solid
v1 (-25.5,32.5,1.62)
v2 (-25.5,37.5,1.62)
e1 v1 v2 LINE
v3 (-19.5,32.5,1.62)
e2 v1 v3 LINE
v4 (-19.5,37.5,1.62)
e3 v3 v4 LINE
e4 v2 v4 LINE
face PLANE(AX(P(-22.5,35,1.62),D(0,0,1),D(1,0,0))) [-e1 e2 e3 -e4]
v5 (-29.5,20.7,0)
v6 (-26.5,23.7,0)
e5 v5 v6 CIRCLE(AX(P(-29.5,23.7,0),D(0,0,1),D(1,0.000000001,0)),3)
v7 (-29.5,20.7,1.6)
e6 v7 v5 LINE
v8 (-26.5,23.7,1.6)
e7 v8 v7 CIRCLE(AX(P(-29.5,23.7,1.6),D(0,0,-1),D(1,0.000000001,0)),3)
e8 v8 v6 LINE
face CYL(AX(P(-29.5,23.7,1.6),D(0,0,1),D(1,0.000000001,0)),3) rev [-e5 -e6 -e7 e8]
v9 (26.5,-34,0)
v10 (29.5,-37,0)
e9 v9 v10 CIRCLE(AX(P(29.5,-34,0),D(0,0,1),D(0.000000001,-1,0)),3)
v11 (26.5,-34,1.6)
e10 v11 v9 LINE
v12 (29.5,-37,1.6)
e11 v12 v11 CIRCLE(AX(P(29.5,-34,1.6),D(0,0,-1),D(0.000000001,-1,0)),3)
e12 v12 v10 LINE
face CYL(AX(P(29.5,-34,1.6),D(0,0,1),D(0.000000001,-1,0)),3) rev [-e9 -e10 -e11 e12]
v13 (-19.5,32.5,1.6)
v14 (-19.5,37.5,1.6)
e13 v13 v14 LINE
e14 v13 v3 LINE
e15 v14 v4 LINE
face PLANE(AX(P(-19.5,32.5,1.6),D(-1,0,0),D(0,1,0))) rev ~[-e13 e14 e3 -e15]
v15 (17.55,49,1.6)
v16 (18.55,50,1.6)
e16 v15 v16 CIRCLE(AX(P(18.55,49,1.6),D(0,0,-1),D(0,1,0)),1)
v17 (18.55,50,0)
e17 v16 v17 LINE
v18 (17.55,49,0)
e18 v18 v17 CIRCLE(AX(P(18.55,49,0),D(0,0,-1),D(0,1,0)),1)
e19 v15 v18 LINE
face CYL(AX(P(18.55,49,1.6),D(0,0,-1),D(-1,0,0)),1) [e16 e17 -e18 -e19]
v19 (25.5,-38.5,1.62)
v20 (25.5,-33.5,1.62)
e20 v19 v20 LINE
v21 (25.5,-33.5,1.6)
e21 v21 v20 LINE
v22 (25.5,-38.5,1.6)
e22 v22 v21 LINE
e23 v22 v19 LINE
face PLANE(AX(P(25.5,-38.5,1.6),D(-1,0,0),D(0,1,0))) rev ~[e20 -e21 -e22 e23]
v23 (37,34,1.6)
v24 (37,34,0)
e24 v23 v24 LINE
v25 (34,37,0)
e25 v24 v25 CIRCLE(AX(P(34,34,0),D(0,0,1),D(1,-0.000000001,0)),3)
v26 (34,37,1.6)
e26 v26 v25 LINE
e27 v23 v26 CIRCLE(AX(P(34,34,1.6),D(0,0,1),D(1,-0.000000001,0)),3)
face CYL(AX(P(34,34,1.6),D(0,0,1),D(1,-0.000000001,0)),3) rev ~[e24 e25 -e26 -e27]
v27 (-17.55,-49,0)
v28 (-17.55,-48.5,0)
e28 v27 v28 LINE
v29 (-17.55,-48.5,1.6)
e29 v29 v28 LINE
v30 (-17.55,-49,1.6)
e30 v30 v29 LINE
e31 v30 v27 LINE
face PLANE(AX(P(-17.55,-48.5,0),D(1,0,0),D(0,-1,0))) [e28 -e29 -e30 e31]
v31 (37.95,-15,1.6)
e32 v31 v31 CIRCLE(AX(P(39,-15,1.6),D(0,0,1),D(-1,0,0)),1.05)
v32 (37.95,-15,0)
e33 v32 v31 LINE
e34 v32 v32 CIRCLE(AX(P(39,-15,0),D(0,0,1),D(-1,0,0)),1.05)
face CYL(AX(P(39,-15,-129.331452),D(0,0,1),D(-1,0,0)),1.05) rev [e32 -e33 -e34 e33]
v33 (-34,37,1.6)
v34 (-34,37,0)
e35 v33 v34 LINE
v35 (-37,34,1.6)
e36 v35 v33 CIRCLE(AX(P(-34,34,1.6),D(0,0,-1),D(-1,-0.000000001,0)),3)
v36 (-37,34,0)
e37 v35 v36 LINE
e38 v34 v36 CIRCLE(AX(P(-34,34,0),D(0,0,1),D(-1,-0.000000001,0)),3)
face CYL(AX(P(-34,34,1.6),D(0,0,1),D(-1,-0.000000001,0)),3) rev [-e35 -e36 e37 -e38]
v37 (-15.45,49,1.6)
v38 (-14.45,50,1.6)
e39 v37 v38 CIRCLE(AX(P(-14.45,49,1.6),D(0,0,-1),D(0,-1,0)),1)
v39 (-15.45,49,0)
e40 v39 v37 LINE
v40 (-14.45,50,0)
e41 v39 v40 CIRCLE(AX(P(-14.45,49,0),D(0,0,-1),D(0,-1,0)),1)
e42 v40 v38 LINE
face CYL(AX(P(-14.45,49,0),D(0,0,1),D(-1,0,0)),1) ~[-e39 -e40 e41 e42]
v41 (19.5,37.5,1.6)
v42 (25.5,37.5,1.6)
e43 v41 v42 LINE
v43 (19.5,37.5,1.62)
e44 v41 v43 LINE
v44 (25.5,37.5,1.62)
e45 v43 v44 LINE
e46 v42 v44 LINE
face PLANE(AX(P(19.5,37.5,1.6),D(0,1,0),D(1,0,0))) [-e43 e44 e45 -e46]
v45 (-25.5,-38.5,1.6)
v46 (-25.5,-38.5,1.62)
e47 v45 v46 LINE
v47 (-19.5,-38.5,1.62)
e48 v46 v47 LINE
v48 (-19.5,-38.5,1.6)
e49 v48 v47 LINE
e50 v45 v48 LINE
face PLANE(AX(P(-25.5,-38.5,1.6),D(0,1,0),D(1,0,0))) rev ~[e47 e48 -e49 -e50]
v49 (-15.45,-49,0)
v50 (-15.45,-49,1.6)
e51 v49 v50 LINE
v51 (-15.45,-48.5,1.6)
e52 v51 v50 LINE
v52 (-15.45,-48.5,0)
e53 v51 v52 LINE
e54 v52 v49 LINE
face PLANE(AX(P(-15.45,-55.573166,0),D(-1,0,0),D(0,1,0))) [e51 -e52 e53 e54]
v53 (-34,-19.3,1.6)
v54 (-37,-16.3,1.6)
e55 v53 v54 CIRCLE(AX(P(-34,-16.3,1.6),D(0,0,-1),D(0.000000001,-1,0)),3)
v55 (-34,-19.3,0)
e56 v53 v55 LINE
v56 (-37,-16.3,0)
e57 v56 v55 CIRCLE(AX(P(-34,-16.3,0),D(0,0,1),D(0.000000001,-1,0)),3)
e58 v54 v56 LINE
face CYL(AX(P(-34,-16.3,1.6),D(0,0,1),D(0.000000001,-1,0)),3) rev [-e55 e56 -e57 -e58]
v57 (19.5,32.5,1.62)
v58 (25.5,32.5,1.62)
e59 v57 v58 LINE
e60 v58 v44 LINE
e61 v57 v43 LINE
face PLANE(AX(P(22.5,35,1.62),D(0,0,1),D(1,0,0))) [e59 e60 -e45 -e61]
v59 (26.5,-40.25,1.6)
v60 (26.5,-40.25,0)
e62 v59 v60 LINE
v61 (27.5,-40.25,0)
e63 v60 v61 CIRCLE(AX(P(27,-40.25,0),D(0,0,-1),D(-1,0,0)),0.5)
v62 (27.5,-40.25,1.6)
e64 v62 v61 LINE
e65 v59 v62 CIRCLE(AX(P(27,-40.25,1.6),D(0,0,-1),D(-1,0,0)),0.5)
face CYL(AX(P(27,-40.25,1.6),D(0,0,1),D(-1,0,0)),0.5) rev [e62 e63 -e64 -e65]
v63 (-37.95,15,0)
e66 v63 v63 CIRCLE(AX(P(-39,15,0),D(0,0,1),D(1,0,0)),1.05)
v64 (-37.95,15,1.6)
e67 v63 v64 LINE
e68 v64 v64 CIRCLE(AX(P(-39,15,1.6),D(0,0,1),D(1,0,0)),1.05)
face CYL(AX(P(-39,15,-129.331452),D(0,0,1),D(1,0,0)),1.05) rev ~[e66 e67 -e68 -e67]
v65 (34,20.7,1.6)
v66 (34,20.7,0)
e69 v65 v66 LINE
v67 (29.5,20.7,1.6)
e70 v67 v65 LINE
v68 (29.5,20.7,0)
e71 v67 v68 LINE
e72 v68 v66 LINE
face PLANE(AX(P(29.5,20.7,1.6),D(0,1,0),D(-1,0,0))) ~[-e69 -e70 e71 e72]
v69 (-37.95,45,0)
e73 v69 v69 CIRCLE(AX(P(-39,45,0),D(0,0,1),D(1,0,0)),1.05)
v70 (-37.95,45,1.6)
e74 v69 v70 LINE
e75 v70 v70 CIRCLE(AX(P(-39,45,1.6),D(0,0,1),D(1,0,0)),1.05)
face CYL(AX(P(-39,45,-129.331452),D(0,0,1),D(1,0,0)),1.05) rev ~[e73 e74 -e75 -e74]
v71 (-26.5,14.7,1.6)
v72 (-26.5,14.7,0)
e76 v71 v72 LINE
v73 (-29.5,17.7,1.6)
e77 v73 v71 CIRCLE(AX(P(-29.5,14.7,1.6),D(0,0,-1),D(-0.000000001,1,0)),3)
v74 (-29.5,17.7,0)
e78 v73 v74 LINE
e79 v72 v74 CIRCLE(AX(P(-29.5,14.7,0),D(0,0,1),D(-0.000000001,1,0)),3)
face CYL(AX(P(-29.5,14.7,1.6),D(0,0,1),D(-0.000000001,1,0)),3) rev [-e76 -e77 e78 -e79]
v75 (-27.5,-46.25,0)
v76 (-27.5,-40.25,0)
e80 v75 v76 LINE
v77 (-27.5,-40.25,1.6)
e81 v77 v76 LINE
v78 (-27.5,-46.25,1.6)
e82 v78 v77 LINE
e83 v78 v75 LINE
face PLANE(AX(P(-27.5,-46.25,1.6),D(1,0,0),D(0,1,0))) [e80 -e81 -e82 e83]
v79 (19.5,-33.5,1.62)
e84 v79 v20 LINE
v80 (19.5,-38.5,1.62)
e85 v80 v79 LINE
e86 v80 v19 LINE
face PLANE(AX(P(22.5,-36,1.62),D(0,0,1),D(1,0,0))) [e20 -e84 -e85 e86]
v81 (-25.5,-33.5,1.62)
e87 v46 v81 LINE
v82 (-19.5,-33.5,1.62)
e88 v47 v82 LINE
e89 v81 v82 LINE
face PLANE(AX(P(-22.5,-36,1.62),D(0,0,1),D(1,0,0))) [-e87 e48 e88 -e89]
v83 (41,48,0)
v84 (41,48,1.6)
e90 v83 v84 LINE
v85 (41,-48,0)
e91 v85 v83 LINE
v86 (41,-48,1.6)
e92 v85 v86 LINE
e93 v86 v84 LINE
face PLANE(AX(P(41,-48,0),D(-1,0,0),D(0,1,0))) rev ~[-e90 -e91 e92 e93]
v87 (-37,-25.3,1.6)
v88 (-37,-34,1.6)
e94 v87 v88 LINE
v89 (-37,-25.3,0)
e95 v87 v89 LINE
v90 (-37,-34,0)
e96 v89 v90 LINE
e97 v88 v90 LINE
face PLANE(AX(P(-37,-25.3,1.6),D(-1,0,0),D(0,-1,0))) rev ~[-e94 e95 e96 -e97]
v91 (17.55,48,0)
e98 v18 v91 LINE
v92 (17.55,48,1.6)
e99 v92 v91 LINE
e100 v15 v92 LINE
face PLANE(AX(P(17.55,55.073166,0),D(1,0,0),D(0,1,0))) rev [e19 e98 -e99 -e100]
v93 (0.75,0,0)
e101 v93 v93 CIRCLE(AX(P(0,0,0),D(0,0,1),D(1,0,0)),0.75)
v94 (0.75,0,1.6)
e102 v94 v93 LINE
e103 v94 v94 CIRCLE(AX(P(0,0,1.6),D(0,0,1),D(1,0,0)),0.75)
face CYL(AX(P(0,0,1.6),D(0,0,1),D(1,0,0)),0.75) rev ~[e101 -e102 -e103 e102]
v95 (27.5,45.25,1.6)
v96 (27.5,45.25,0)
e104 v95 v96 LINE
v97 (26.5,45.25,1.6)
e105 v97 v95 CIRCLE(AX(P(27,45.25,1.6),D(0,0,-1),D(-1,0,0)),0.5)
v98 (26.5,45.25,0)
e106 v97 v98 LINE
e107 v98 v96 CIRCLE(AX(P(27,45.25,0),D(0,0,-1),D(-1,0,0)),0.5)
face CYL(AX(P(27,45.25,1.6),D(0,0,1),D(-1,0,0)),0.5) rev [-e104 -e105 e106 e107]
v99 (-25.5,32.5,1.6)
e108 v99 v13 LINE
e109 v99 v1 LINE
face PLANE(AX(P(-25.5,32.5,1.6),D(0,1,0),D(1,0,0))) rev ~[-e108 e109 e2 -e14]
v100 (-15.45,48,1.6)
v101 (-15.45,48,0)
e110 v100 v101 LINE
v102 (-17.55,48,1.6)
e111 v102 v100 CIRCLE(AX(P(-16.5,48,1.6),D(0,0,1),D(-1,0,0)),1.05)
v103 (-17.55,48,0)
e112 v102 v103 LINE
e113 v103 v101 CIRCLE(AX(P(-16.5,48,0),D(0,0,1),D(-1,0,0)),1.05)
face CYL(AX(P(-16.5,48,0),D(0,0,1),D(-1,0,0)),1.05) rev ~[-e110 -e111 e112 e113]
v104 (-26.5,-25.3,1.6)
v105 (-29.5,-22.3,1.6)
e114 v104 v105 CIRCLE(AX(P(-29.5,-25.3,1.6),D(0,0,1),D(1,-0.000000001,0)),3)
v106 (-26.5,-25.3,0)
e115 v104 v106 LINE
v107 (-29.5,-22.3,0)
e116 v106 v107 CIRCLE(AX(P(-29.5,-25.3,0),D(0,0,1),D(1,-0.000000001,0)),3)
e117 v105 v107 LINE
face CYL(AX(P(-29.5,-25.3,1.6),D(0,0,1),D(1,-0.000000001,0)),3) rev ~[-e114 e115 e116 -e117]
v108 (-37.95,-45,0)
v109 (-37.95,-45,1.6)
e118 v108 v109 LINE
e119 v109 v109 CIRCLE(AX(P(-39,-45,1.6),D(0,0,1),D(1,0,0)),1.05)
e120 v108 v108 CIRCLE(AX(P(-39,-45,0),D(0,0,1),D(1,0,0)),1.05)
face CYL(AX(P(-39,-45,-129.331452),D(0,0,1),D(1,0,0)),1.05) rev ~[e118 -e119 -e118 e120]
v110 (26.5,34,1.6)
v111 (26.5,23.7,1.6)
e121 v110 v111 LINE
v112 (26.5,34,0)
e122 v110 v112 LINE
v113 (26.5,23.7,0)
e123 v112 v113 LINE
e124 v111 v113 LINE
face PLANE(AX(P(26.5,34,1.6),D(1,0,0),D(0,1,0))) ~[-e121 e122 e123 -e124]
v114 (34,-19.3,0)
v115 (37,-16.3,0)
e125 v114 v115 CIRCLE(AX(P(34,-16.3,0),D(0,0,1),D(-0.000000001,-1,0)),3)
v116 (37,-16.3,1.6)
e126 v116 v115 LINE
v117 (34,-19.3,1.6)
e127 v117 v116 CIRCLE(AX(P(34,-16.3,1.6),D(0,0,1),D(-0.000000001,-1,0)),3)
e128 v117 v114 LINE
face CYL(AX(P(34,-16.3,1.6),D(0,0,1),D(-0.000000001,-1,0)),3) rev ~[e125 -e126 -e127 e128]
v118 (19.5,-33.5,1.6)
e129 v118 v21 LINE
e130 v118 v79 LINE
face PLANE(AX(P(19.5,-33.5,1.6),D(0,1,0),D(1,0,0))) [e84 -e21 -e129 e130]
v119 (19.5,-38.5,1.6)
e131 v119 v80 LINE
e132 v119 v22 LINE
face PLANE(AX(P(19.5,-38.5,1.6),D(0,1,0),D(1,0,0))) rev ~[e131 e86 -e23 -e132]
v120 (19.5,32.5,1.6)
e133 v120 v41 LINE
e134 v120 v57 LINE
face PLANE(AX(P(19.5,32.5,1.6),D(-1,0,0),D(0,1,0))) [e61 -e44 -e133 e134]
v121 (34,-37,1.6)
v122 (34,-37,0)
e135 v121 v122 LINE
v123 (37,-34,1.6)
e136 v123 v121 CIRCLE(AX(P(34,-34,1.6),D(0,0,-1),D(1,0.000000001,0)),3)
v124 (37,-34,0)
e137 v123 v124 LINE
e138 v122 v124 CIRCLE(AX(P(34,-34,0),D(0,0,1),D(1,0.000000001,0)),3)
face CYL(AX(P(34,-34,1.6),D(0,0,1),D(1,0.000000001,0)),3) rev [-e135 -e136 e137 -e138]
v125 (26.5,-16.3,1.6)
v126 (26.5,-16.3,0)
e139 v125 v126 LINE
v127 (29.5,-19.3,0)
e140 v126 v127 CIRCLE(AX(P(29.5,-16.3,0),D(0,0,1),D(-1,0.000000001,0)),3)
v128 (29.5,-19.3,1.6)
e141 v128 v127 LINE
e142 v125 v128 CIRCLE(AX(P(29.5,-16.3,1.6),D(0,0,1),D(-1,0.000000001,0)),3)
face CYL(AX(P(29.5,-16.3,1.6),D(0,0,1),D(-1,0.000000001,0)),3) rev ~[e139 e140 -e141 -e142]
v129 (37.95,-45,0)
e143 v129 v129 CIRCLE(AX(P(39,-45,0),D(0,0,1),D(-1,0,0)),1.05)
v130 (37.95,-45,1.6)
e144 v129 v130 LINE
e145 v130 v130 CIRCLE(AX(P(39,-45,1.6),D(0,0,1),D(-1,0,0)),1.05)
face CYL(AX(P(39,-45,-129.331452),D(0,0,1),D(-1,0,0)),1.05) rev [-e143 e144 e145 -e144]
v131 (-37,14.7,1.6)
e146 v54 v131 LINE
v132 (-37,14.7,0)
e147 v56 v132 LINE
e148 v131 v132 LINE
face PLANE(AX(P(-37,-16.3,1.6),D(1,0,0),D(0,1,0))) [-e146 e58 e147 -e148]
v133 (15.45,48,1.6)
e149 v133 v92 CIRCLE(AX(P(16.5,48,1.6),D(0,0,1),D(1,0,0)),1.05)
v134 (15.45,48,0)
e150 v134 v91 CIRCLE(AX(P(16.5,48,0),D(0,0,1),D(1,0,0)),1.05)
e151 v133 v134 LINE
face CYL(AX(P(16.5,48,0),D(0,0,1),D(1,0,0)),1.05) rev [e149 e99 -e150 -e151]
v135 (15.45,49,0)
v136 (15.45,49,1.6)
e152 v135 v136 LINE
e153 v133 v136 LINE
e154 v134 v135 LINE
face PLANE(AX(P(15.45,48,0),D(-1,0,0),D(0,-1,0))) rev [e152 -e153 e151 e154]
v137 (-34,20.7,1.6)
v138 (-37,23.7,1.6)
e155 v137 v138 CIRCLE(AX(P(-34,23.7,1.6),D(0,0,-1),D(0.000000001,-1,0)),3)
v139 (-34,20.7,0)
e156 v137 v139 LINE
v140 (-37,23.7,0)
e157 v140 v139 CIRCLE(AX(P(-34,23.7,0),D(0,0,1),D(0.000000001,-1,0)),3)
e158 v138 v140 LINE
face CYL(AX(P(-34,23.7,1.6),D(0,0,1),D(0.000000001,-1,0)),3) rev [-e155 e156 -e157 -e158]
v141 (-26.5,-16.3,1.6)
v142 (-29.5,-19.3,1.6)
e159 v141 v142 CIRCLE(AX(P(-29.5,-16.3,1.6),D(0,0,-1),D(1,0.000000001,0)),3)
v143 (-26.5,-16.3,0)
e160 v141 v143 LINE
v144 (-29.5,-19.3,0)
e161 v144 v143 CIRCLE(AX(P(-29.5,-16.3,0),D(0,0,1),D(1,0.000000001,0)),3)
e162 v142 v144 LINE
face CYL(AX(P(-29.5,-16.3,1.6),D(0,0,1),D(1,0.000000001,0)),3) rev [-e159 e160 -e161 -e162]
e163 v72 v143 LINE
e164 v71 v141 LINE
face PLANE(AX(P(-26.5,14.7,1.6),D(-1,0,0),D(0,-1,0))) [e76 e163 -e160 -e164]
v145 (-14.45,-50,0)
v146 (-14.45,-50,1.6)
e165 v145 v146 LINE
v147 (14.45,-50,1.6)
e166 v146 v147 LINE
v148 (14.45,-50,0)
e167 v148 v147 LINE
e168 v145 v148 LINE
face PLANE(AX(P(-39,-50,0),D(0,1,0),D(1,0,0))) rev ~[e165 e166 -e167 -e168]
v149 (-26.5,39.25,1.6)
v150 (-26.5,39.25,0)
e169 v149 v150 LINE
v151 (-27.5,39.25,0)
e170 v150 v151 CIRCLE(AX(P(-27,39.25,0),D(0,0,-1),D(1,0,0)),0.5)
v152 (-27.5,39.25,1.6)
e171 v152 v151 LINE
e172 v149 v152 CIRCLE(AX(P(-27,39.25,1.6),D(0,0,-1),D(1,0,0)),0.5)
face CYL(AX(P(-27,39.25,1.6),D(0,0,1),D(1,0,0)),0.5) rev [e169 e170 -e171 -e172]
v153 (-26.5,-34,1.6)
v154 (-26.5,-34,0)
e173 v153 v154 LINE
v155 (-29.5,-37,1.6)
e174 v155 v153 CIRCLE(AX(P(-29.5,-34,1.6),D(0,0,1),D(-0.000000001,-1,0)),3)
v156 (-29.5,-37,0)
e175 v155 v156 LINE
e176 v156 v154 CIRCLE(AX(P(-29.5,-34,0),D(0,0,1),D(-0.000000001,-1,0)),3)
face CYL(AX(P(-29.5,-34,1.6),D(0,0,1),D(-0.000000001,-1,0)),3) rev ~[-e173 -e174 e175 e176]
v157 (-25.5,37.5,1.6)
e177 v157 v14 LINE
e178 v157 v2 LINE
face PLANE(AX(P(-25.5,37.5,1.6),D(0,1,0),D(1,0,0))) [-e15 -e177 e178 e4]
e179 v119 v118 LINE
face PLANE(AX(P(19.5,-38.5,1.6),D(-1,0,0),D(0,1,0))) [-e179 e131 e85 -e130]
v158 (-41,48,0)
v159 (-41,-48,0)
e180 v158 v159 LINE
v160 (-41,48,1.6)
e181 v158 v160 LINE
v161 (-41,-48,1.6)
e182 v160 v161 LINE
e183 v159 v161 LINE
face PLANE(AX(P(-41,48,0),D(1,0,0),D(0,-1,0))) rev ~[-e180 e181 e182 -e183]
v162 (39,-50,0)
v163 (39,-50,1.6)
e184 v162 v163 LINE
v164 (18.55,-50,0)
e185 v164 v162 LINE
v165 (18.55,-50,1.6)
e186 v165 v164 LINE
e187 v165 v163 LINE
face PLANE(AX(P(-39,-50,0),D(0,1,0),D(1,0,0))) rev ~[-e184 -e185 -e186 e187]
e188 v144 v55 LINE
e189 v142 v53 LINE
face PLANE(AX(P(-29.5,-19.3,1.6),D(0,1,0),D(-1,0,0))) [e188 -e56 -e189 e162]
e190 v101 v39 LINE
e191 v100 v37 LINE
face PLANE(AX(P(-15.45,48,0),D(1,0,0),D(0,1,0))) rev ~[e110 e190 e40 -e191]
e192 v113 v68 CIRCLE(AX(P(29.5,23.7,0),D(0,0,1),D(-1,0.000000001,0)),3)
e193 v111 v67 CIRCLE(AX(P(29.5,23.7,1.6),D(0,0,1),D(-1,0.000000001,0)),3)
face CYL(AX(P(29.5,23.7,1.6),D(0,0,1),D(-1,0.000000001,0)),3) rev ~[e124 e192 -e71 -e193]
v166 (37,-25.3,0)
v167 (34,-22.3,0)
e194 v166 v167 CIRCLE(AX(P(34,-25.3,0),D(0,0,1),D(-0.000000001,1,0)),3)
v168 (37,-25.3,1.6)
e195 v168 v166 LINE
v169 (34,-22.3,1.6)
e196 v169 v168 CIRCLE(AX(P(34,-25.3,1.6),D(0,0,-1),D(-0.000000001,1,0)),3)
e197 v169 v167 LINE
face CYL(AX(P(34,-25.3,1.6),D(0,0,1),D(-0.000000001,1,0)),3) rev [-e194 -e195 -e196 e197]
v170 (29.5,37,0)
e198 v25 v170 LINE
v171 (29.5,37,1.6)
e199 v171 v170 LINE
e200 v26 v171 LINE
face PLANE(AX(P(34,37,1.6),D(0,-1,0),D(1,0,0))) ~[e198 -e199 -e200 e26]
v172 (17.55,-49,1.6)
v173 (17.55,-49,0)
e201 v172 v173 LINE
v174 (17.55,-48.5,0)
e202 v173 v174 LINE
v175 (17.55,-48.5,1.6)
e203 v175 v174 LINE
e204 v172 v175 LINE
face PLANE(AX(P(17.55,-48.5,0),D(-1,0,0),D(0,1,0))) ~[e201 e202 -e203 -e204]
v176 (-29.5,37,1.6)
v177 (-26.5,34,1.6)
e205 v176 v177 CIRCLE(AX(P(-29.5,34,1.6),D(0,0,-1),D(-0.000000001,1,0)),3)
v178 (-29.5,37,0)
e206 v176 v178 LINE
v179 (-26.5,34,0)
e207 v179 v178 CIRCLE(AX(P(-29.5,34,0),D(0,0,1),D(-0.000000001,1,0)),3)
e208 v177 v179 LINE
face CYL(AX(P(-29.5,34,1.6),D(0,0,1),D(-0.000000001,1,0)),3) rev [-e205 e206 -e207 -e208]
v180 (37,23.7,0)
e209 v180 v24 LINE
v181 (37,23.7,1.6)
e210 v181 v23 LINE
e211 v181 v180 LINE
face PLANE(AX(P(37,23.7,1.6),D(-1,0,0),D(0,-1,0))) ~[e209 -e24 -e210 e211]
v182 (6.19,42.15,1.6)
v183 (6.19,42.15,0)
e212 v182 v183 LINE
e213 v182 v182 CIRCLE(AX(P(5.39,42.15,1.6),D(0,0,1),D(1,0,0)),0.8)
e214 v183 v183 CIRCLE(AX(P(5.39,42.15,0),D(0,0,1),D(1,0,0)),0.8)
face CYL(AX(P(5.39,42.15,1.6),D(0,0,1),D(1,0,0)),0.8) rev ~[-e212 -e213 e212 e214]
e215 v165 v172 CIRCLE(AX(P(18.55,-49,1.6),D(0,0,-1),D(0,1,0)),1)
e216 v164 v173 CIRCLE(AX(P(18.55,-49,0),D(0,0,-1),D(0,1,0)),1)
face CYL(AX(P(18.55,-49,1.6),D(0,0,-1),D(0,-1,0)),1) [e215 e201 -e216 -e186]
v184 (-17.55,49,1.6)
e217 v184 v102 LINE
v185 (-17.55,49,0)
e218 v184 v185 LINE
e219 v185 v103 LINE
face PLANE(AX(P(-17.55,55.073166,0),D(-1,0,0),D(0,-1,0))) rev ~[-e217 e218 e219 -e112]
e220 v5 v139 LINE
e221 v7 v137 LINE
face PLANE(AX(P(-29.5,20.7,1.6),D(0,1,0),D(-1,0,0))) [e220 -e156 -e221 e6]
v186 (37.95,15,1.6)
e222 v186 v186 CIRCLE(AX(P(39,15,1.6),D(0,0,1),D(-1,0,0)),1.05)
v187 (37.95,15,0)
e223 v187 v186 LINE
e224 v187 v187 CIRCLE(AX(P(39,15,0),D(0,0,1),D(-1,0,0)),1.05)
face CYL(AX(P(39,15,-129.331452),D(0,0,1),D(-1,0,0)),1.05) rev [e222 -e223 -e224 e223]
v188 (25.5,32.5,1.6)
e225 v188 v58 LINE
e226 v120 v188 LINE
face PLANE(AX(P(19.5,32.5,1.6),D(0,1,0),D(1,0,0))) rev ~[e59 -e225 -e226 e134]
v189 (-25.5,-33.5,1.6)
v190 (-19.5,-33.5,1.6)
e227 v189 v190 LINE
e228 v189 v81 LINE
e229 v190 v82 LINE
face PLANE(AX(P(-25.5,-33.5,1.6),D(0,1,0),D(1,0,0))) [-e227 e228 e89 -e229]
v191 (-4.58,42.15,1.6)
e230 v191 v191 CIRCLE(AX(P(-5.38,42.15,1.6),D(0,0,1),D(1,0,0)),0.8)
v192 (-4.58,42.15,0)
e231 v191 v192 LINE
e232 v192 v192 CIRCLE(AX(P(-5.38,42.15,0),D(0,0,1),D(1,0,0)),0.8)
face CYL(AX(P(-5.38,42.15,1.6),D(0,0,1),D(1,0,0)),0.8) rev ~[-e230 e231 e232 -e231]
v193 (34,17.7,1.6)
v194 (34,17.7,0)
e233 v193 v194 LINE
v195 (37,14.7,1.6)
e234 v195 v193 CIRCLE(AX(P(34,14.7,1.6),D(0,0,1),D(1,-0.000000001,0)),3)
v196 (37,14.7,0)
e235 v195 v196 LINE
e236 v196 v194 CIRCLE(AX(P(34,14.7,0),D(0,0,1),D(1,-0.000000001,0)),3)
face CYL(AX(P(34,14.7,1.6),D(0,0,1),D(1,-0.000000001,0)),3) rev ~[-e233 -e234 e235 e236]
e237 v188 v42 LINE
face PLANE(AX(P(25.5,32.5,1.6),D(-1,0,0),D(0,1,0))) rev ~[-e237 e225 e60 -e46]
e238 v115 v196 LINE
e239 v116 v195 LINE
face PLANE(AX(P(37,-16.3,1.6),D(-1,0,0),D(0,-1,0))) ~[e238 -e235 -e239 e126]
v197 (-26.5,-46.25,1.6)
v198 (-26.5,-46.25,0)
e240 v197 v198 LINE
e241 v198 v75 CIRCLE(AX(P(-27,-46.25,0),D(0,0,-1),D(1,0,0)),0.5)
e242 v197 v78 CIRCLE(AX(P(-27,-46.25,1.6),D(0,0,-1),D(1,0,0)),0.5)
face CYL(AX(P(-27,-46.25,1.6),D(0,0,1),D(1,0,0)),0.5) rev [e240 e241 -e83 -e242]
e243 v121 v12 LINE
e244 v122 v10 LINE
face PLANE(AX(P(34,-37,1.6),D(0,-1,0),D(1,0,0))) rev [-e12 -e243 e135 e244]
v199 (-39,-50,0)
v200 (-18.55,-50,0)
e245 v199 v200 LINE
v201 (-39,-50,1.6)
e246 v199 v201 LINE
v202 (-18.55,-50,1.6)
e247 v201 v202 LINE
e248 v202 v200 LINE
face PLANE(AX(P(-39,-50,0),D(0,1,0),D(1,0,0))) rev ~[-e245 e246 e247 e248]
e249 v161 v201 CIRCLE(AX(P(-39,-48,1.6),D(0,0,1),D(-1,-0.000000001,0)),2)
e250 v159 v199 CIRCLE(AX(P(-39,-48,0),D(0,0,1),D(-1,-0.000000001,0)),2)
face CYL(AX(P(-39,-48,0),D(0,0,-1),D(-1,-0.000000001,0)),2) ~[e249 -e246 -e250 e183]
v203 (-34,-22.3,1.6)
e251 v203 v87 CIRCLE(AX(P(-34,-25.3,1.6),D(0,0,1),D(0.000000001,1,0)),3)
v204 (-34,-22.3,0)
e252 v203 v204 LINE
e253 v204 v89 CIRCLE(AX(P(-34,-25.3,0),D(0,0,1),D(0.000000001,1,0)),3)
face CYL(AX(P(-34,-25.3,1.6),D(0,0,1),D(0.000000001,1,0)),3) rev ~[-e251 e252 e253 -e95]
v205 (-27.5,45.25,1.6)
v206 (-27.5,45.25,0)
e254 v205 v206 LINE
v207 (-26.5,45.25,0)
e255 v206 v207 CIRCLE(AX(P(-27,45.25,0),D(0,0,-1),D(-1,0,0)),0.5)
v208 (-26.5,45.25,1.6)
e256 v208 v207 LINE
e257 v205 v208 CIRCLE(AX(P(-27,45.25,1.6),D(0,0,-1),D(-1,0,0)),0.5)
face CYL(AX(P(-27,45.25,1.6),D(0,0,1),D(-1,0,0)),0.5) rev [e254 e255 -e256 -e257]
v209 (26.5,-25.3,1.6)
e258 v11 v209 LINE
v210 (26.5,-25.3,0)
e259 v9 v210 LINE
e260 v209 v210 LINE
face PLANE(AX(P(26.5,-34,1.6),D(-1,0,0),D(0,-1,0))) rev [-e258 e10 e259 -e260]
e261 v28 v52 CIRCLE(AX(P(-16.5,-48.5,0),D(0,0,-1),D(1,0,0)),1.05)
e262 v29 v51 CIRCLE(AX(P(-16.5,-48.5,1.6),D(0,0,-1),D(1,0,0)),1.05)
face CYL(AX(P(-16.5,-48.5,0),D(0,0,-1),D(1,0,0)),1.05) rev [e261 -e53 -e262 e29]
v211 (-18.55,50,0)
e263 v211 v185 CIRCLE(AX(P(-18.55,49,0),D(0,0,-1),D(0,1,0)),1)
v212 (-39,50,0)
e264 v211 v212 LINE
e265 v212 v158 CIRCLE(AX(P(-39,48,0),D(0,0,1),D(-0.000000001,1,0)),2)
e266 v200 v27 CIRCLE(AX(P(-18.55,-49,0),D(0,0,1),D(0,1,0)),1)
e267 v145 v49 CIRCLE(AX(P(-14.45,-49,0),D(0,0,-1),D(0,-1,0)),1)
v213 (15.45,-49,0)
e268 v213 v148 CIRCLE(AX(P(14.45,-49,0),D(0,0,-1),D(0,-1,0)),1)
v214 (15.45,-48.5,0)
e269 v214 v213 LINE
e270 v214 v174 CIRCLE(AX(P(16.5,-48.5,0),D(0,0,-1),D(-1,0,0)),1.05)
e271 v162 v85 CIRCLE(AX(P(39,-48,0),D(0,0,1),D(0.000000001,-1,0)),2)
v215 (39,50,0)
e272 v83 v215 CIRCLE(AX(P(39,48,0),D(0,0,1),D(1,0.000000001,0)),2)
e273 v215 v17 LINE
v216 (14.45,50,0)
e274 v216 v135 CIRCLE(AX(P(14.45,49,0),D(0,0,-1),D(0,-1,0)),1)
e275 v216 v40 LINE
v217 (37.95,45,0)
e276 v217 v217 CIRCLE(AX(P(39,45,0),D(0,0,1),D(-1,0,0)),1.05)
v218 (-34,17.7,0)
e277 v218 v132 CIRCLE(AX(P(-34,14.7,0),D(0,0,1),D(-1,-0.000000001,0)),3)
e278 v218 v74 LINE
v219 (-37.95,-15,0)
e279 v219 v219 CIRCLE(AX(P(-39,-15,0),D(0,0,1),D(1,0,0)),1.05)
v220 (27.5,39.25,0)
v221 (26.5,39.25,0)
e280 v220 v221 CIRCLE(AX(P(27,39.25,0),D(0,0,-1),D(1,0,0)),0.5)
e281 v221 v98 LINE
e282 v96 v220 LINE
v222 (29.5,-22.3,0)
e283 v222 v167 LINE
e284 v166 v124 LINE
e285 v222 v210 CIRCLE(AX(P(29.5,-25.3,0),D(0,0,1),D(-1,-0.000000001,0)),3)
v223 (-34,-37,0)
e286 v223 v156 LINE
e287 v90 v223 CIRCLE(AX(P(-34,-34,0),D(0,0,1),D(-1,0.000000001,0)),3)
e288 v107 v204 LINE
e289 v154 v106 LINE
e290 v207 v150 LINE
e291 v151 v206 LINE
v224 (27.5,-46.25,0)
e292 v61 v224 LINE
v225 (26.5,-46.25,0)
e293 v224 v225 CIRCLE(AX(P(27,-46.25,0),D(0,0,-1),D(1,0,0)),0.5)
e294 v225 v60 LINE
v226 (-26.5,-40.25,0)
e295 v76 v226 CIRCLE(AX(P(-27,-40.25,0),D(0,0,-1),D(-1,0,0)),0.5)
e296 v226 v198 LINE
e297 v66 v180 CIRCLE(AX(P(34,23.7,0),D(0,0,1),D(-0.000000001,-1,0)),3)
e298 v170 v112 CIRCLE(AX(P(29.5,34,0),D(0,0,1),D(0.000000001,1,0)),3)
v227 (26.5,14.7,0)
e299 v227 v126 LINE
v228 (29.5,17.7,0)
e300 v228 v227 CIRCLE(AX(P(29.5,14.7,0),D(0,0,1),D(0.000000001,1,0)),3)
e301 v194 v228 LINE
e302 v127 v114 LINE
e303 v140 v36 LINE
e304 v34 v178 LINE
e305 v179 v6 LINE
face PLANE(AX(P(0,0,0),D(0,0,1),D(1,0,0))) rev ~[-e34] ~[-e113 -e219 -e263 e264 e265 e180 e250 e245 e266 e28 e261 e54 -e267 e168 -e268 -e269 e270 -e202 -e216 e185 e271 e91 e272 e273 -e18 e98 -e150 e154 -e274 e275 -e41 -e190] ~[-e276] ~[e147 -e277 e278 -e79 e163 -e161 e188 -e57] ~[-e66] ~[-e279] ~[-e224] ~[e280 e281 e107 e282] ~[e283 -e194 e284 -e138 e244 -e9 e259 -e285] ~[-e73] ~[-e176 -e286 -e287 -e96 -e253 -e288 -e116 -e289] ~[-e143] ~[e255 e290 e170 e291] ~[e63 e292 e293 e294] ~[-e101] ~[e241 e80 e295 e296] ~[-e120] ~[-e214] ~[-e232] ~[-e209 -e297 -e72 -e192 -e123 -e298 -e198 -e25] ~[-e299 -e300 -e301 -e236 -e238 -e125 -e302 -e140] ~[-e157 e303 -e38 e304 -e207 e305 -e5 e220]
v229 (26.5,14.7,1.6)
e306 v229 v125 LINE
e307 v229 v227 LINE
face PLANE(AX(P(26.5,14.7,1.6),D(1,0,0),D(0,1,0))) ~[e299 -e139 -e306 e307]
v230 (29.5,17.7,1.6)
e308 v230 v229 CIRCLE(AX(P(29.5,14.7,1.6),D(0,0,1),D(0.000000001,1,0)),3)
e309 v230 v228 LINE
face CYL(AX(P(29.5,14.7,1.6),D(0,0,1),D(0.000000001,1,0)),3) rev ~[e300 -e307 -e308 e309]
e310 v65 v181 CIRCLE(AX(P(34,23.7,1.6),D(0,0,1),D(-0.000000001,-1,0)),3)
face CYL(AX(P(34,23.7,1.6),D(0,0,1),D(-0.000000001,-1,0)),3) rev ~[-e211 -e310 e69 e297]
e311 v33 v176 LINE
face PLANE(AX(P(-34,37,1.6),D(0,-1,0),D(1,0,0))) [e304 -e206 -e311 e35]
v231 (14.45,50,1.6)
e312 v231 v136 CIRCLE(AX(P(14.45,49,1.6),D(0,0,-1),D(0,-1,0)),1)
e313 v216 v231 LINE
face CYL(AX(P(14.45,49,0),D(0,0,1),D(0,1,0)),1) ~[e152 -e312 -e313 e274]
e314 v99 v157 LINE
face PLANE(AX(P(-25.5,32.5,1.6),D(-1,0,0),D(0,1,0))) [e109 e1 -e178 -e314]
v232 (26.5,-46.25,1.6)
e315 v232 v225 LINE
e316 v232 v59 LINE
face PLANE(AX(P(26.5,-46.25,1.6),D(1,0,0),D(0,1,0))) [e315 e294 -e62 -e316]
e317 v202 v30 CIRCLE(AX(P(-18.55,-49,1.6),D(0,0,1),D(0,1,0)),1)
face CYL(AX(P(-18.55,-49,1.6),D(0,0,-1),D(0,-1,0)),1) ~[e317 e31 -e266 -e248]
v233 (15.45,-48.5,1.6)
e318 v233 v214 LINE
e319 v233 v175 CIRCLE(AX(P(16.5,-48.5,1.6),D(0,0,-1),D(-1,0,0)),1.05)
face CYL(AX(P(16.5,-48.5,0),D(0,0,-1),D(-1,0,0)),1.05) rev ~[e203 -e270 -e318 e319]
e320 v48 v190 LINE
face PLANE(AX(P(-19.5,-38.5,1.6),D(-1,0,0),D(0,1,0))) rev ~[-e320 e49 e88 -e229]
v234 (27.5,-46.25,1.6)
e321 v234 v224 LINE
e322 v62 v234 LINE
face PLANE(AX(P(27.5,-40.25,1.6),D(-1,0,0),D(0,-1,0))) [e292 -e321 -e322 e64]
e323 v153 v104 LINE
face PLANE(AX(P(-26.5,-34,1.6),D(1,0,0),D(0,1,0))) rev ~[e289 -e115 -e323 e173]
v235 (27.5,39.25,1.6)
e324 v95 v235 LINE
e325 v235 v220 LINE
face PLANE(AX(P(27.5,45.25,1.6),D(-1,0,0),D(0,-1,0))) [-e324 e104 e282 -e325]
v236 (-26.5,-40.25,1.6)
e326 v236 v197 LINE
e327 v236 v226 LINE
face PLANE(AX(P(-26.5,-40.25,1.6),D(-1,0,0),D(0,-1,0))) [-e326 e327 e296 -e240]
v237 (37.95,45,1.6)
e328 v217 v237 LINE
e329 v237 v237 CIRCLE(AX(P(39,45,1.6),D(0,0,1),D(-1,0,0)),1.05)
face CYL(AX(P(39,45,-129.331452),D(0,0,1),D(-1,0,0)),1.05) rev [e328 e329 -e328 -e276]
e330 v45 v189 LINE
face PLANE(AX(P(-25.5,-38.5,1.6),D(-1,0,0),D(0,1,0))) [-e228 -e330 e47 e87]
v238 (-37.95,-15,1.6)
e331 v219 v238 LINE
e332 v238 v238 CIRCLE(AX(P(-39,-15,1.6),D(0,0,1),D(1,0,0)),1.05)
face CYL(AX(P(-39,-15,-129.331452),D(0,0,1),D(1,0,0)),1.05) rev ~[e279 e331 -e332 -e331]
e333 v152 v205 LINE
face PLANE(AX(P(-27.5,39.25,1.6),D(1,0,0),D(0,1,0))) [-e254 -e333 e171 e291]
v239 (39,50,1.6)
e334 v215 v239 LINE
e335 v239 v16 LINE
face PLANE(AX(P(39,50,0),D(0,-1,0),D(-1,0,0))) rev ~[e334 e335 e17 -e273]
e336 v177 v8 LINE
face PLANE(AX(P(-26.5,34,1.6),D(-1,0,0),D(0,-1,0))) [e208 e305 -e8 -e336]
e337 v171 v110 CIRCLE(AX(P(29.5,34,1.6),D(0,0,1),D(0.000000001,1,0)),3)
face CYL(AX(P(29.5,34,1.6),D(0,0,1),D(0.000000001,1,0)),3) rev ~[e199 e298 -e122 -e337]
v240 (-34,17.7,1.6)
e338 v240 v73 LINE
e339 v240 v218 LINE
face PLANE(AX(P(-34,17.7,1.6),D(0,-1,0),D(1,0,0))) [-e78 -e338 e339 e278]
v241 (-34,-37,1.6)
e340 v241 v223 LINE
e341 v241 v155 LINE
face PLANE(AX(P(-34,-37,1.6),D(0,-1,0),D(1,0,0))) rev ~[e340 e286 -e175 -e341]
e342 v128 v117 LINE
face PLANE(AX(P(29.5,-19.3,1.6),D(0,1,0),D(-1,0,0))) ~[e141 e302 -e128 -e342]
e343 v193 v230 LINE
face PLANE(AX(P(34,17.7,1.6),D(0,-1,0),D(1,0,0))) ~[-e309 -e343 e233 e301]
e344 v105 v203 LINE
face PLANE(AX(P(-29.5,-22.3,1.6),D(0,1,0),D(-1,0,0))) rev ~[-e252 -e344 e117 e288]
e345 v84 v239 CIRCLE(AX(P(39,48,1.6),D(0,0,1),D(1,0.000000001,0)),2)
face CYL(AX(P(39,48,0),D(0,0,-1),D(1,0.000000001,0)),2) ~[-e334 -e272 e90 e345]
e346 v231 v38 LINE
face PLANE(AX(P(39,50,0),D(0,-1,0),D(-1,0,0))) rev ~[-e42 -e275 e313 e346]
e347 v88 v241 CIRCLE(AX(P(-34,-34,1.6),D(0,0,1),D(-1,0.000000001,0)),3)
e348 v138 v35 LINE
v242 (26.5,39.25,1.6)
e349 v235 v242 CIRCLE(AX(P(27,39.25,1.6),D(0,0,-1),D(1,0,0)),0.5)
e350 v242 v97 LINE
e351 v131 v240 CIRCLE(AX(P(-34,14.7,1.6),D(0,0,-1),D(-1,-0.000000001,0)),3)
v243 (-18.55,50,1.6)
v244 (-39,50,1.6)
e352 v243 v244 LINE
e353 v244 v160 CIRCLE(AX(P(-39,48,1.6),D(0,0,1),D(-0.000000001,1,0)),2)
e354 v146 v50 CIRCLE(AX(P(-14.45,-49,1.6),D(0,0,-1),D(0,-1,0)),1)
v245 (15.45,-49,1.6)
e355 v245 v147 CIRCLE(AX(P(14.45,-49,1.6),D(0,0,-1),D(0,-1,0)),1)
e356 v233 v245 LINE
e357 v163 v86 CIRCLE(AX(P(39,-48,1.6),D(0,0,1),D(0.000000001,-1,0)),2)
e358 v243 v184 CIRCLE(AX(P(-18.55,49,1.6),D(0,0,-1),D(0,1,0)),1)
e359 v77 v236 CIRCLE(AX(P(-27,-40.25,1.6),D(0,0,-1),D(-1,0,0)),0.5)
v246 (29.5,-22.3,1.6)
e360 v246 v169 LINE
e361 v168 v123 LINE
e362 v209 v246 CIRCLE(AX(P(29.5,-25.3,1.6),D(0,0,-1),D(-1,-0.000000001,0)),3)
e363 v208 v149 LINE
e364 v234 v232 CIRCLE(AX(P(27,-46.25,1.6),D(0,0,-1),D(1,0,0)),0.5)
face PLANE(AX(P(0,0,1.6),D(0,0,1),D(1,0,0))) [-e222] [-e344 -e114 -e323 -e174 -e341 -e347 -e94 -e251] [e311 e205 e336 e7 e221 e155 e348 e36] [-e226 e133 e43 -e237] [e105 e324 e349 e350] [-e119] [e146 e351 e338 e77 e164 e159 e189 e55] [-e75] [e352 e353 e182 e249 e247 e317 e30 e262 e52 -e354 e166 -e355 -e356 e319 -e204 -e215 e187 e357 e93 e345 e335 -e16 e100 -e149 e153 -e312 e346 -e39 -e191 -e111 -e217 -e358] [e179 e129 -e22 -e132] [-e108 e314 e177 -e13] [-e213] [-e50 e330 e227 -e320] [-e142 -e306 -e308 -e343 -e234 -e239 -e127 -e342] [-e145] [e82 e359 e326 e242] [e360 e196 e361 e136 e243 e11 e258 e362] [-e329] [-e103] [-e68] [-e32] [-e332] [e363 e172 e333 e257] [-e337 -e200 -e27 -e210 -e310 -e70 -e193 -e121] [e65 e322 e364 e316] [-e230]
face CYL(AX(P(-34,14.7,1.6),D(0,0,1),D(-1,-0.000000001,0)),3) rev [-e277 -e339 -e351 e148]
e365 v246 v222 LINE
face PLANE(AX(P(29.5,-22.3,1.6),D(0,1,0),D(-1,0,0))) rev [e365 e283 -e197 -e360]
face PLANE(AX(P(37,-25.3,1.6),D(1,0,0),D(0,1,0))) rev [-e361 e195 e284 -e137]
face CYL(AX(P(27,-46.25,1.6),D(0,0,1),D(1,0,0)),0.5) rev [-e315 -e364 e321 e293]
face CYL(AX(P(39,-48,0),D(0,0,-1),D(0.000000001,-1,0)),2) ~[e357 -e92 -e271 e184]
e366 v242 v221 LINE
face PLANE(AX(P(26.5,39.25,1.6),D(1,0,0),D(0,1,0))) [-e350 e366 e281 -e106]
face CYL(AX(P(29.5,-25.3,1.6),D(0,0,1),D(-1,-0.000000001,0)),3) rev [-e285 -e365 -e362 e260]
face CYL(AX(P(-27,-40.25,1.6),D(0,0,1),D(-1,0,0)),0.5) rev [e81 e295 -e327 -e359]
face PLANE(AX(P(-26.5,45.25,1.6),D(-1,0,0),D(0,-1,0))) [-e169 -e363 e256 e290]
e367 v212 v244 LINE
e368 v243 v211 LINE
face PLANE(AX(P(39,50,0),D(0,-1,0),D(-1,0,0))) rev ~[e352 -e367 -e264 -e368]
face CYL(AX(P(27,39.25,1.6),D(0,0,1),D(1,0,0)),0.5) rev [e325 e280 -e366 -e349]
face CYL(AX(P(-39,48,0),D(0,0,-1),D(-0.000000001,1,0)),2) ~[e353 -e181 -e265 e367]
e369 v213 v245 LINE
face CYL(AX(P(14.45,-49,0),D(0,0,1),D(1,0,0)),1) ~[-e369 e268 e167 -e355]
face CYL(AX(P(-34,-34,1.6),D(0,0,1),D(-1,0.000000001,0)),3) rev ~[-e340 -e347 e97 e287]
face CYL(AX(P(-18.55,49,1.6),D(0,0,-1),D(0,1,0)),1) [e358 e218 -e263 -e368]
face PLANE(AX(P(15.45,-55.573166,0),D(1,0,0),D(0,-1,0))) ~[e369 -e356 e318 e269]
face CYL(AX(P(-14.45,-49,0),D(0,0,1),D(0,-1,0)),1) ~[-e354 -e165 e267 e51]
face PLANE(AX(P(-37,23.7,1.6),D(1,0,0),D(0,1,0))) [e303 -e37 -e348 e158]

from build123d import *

# Parameters (mm, degrees)
BOARDOUTLINE_DEPTH          = 1.6
SKETCH2_R                   = 0.75
SKETCH2_R_2                 = 0.8
COMPONENTHOLES_DEPTH        = 65.680445267
SOLARCELLCONTACTHOLES_DEPTH = 1.6
WINDOWS_1SIDE_DEPTH         = 65.680445267
SKETCH5_W                   = 6
SKETCH5_H                   = 5
CONTACTPADS_DEPTH           = 0.02
M2_CLEARANCE_HOLE1_D        = 2.1
CUT_EXTRUDE1_DEPTH          = 65.680943098
FILLET3_R                   = 1
FILLET3_OF_MIRROR1_R        = 1


with BuildPart() as part:
    # Sketch1 → boardOutline (new body)
    with BuildSketch(Plane.XY):
        with BuildLine():
            Line((-39, -50), (39, -50))
            ThreePointArc((39, -50), (40.414213562, -49.414213562), (41, -48))
            Line((41, -48), (41, 48))
            ThreePointArc((41, 48), (40.414213562, 49.414213562), (39, 50))
            Line((39, 50), (-39, 50))
            ThreePointArc((-39, 50), (-40.414213562, 49.414213562), (-41, 48))
            Line((-41, 48), (-41, -48))
            ThreePointArc((-41, -48), (-40.414213562, -49.414213562), (-39, -50))
        make_face()
    extrude(amount=BOARDOUTLINE_DEPTH)

    # Sketch2 → componentHoles (cut, through all)
    with BuildSketch(Plane.XY.offset(1.6)):
        Circle(SKETCH2_R)
        with Locations((-5.38, 42.15)):
            Circle(SKETCH2_R_2)
        with Locations((5.39, 42.15)):
            Circle(SKETCH2_R_2)
    extrude(amount=-COMPONENTHOLES_DEPTH, mode=Mode.SUBTRACT)

    # Sketch4 → solarCellContactHoles (cut)
    with BuildSketch(Plane.XY.offset(1.6)):
        with BuildLine():
            Line((-27.5, 39.25), (-27.5, 45.25))
            ThreePointArc((-27.5, 45.25), (-27, 45.75), (-26.5, 45.25))
            Line((-26.5, 45.25), (-26.5, 39.25))
            ThreePointArc((-26.5, 39.25), (-27, 38.75), (-27.5, 39.25))
        make_face()
        with BuildLine():
            Line((26.5, 39.25), (26.5, 45.25))
            ThreePointArc((26.5, 45.25), (27, 45.75), (27.5, 45.25))
            Line((27.5, 45.25), (27.5, 39.25))
            ThreePointArc((27.5, 39.25), (27, 38.75), (26.5, 39.25))
        make_face()
        with BuildLine():
            Line((26.5, -46.25), (26.5, -40.25))
            ThreePointArc((26.5, -40.25), (27, -39.75), (27.5, -40.25))
            Line((27.5, -40.25), (27.5, -46.25))
            ThreePointArc((27.5, -46.25), (27, -46.75), (26.5, -46.25))
        make_face()
        with BuildLine():
            Line((-27.5, -46.25), (-27.5, -40.25))
            ThreePointArc((-27.5, -40.25), (-27, -39.75), (-26.5, -40.25))
            Line((-26.5, -40.25), (-26.5, -46.25))
            ThreePointArc((-26.5, -46.25), (-27, -46.75), (-27.5, -46.25))
        make_face()
    extrude(amount=-SOLARCELLCONTACTHOLES_DEPTH, mode=Mode.SUBTRACT)

    # Sketch3 → windows_1side (cut, through all)
    with BuildSketch(Plane.XY.offset(1.6)):
        with BuildLine():
            Line((-34, 37), (-29.5, 37))
            ThreePointArc((-29.5, 37), (-27.378679656, 36.121320344), (-26.5, 34))
            Line((-26.5, 34), (-26.5, 23.7))
            ThreePointArc((-26.5, 23.7), (-27.378679656, 21.578679656), (-29.5, 20.7))
            Line((-29.5, 20.7), (-34, 20.7))
            ThreePointArc((-34, 20.7), (-36.121320344, 21.578679656), (-37, 23.7))
            Line((-37, 23.7), (-37, 34))
            ThreePointArc((-37, 34), (-36.121320344, 36.121320344), (-34, 37))
        make_face()
        with BuildLine():
            Line((-29.5, -22.3), (-34, -22.3))
            ThreePointArc((-34, -22.3), (-36.121320344, -23.178679656), (-37, -25.3))
            Line((-37, -25.3), (-37, -34))
            ThreePointArc((-37, -34), (-36.121320344, -36.121320344), (-34, -37))
            Line((-34, -37), (-29.5, -37))
            ThreePointArc((-29.5, -37), (-27.378679656, -36.121320344), (-26.5, -34))
            Line((-26.5, -34), (-26.5, -25.3))
            ThreePointArc((-26.5, -25.3), (-27.378679656, -23.178679656), (-29.5, -22.3))
        make_face()
        with BuildLine():
            Line((-29.5, -19.3), (-34, -19.3))
            ThreePointArc((-34, -19.3), (-36.121320344, -18.421320344), (-37, -16.3))
            Line((-37, -16.3), (-37, 14.7))
            ThreePointArc((-37, 14.7), (-36.121320344, 16.821320344), (-34, 17.7))
            Line((-34, 17.7), (-29.5, 17.7))
            ThreePointArc((-29.5, 17.7), (-27.378679656, 16.821320344), (-26.5, 14.7))
            Line((-26.5, 14.7), (-26.5, -16.3))
            ThreePointArc((-26.5, -16.3), (-27.378679656, -18.421320344), (-29.5, -19.3))
        make_face()
    windows_1side = extrude(amount=-WINDOWS_1SIDE_DEPTH, mode=Mode.SUBTRACT)

    # Sketch5 → contactPads (add)
    with BuildSketch(Plane.XY.offset(1.6)):
        with Locations((-22.5, 35)):
            Rectangle(SKETCH5_W, SKETCH5_H)
        with Locations((22.5, 35)):
            Rectangle(SKETCH5_W, SKETCH5_H)
        with Locations((22.5, -36)):
            Rectangle(SKETCH5_W, SKETCH5_H)
        with Locations((-22.5, -36)):
            Rectangle(SKETCH5_W, SKETCH5_H)
    extrude(amount=CONTACTPADS_DEPTH)

    # M2 Clearance Hole1 (through all)
    with Locations(Plane(origin=(0, 0, 0), x_dir=(-1, 0, 0), z_dir=(0, 0, -1))):
        with Locations((39, 45), (39, -15), (39, -45), (39, 15)):
            m2_clearance_hole1 = Hole(M2_CLEARANCE_HOLE1_D / 2)

    # Sketch10 → Cut-Extrude1 (cut, symmetric)
    with BuildSketch(Plane(origin=(0, 0, 0), x_dir=(-1, 0, 0), z_dir=(0, 0, -1))):
        with BuildLine():
            Line((15.45, 48), (15.45, 55.073166109))
            ThreePointArc((15.45, 55.073166109), (16.5, 56.123166109), (17.55, 55.073166109))
            Line((17.55, 55.073166109), (17.55, 48))
            ThreePointArc((17.55, 48), (16.5, 46.95), (15.45, 48))
        make_face()
        with BuildLine():
            Line((17.55, -48.5), (17.55, -55.573166109))
            ThreePointArc((17.55, -55.573166109), (16.5, -56.623166109), (15.45, -55.573166109))
            Line((15.45, -55.573166109), (15.45, -48.5))
            ThreePointArc((15.45, -48.5), (16.5, -47.45), (17.55, -48.5))
        make_face()
    cut_extrude1 = extrude(amount=CUT_EXTRUDE1_DEPTH, both=True, mode=Mode.SUBTRACT)

    # Fillet3
    fillet3_edges = [part.edges().sort_by_distance(p)[0] for p in [
        (-15.45, 50, 0.8),
        (-17.55, 50, 0.8),
        (-17.55, -50, 0.8),
        (-15.45, -50, 0.8),
    ]]
    fillet(fillet3_edges, radius=FILLET3_R)

    # Mirror1: windows_1side, M2 Clearance Hole1, Cut-Extrude1 across plane
    add(windows_1side.mirror(Plane(origin=(0, 0, 0), x_dir=(0, 0, 1), z_dir=(1, 0, 0))), mode=Mode.SUBTRACT)
    add(m2_clearance_hole1.mirror(Plane(origin=(0, 0, 0), x_dir=(0, 0, 1), z_dir=(1, 0, 0))), mode=Mode.SUBTRACT)
    add(cut_extrude1.mirror(Plane(origin=(0, 0, 0), x_dir=(0, 0, 1), z_dir=(1, 0, 0))), mode=Mode.SUBTRACT)

    # Fillet3 of Mirror1
    fillet3_of_mirror1_edges = [part.edges().sort_by_distance(p)[0] for p in [
        (15.45, 50, 0.8),
        (17.55, 50, 0.8),
        (17.55, -50, 0.8),
        (15.45, -50, 0.8),
    ]]
    fillet(fillet3_of_mirror1_edges, radius=FILLET3_OF_MIRROR1_R)


solid = part.part
